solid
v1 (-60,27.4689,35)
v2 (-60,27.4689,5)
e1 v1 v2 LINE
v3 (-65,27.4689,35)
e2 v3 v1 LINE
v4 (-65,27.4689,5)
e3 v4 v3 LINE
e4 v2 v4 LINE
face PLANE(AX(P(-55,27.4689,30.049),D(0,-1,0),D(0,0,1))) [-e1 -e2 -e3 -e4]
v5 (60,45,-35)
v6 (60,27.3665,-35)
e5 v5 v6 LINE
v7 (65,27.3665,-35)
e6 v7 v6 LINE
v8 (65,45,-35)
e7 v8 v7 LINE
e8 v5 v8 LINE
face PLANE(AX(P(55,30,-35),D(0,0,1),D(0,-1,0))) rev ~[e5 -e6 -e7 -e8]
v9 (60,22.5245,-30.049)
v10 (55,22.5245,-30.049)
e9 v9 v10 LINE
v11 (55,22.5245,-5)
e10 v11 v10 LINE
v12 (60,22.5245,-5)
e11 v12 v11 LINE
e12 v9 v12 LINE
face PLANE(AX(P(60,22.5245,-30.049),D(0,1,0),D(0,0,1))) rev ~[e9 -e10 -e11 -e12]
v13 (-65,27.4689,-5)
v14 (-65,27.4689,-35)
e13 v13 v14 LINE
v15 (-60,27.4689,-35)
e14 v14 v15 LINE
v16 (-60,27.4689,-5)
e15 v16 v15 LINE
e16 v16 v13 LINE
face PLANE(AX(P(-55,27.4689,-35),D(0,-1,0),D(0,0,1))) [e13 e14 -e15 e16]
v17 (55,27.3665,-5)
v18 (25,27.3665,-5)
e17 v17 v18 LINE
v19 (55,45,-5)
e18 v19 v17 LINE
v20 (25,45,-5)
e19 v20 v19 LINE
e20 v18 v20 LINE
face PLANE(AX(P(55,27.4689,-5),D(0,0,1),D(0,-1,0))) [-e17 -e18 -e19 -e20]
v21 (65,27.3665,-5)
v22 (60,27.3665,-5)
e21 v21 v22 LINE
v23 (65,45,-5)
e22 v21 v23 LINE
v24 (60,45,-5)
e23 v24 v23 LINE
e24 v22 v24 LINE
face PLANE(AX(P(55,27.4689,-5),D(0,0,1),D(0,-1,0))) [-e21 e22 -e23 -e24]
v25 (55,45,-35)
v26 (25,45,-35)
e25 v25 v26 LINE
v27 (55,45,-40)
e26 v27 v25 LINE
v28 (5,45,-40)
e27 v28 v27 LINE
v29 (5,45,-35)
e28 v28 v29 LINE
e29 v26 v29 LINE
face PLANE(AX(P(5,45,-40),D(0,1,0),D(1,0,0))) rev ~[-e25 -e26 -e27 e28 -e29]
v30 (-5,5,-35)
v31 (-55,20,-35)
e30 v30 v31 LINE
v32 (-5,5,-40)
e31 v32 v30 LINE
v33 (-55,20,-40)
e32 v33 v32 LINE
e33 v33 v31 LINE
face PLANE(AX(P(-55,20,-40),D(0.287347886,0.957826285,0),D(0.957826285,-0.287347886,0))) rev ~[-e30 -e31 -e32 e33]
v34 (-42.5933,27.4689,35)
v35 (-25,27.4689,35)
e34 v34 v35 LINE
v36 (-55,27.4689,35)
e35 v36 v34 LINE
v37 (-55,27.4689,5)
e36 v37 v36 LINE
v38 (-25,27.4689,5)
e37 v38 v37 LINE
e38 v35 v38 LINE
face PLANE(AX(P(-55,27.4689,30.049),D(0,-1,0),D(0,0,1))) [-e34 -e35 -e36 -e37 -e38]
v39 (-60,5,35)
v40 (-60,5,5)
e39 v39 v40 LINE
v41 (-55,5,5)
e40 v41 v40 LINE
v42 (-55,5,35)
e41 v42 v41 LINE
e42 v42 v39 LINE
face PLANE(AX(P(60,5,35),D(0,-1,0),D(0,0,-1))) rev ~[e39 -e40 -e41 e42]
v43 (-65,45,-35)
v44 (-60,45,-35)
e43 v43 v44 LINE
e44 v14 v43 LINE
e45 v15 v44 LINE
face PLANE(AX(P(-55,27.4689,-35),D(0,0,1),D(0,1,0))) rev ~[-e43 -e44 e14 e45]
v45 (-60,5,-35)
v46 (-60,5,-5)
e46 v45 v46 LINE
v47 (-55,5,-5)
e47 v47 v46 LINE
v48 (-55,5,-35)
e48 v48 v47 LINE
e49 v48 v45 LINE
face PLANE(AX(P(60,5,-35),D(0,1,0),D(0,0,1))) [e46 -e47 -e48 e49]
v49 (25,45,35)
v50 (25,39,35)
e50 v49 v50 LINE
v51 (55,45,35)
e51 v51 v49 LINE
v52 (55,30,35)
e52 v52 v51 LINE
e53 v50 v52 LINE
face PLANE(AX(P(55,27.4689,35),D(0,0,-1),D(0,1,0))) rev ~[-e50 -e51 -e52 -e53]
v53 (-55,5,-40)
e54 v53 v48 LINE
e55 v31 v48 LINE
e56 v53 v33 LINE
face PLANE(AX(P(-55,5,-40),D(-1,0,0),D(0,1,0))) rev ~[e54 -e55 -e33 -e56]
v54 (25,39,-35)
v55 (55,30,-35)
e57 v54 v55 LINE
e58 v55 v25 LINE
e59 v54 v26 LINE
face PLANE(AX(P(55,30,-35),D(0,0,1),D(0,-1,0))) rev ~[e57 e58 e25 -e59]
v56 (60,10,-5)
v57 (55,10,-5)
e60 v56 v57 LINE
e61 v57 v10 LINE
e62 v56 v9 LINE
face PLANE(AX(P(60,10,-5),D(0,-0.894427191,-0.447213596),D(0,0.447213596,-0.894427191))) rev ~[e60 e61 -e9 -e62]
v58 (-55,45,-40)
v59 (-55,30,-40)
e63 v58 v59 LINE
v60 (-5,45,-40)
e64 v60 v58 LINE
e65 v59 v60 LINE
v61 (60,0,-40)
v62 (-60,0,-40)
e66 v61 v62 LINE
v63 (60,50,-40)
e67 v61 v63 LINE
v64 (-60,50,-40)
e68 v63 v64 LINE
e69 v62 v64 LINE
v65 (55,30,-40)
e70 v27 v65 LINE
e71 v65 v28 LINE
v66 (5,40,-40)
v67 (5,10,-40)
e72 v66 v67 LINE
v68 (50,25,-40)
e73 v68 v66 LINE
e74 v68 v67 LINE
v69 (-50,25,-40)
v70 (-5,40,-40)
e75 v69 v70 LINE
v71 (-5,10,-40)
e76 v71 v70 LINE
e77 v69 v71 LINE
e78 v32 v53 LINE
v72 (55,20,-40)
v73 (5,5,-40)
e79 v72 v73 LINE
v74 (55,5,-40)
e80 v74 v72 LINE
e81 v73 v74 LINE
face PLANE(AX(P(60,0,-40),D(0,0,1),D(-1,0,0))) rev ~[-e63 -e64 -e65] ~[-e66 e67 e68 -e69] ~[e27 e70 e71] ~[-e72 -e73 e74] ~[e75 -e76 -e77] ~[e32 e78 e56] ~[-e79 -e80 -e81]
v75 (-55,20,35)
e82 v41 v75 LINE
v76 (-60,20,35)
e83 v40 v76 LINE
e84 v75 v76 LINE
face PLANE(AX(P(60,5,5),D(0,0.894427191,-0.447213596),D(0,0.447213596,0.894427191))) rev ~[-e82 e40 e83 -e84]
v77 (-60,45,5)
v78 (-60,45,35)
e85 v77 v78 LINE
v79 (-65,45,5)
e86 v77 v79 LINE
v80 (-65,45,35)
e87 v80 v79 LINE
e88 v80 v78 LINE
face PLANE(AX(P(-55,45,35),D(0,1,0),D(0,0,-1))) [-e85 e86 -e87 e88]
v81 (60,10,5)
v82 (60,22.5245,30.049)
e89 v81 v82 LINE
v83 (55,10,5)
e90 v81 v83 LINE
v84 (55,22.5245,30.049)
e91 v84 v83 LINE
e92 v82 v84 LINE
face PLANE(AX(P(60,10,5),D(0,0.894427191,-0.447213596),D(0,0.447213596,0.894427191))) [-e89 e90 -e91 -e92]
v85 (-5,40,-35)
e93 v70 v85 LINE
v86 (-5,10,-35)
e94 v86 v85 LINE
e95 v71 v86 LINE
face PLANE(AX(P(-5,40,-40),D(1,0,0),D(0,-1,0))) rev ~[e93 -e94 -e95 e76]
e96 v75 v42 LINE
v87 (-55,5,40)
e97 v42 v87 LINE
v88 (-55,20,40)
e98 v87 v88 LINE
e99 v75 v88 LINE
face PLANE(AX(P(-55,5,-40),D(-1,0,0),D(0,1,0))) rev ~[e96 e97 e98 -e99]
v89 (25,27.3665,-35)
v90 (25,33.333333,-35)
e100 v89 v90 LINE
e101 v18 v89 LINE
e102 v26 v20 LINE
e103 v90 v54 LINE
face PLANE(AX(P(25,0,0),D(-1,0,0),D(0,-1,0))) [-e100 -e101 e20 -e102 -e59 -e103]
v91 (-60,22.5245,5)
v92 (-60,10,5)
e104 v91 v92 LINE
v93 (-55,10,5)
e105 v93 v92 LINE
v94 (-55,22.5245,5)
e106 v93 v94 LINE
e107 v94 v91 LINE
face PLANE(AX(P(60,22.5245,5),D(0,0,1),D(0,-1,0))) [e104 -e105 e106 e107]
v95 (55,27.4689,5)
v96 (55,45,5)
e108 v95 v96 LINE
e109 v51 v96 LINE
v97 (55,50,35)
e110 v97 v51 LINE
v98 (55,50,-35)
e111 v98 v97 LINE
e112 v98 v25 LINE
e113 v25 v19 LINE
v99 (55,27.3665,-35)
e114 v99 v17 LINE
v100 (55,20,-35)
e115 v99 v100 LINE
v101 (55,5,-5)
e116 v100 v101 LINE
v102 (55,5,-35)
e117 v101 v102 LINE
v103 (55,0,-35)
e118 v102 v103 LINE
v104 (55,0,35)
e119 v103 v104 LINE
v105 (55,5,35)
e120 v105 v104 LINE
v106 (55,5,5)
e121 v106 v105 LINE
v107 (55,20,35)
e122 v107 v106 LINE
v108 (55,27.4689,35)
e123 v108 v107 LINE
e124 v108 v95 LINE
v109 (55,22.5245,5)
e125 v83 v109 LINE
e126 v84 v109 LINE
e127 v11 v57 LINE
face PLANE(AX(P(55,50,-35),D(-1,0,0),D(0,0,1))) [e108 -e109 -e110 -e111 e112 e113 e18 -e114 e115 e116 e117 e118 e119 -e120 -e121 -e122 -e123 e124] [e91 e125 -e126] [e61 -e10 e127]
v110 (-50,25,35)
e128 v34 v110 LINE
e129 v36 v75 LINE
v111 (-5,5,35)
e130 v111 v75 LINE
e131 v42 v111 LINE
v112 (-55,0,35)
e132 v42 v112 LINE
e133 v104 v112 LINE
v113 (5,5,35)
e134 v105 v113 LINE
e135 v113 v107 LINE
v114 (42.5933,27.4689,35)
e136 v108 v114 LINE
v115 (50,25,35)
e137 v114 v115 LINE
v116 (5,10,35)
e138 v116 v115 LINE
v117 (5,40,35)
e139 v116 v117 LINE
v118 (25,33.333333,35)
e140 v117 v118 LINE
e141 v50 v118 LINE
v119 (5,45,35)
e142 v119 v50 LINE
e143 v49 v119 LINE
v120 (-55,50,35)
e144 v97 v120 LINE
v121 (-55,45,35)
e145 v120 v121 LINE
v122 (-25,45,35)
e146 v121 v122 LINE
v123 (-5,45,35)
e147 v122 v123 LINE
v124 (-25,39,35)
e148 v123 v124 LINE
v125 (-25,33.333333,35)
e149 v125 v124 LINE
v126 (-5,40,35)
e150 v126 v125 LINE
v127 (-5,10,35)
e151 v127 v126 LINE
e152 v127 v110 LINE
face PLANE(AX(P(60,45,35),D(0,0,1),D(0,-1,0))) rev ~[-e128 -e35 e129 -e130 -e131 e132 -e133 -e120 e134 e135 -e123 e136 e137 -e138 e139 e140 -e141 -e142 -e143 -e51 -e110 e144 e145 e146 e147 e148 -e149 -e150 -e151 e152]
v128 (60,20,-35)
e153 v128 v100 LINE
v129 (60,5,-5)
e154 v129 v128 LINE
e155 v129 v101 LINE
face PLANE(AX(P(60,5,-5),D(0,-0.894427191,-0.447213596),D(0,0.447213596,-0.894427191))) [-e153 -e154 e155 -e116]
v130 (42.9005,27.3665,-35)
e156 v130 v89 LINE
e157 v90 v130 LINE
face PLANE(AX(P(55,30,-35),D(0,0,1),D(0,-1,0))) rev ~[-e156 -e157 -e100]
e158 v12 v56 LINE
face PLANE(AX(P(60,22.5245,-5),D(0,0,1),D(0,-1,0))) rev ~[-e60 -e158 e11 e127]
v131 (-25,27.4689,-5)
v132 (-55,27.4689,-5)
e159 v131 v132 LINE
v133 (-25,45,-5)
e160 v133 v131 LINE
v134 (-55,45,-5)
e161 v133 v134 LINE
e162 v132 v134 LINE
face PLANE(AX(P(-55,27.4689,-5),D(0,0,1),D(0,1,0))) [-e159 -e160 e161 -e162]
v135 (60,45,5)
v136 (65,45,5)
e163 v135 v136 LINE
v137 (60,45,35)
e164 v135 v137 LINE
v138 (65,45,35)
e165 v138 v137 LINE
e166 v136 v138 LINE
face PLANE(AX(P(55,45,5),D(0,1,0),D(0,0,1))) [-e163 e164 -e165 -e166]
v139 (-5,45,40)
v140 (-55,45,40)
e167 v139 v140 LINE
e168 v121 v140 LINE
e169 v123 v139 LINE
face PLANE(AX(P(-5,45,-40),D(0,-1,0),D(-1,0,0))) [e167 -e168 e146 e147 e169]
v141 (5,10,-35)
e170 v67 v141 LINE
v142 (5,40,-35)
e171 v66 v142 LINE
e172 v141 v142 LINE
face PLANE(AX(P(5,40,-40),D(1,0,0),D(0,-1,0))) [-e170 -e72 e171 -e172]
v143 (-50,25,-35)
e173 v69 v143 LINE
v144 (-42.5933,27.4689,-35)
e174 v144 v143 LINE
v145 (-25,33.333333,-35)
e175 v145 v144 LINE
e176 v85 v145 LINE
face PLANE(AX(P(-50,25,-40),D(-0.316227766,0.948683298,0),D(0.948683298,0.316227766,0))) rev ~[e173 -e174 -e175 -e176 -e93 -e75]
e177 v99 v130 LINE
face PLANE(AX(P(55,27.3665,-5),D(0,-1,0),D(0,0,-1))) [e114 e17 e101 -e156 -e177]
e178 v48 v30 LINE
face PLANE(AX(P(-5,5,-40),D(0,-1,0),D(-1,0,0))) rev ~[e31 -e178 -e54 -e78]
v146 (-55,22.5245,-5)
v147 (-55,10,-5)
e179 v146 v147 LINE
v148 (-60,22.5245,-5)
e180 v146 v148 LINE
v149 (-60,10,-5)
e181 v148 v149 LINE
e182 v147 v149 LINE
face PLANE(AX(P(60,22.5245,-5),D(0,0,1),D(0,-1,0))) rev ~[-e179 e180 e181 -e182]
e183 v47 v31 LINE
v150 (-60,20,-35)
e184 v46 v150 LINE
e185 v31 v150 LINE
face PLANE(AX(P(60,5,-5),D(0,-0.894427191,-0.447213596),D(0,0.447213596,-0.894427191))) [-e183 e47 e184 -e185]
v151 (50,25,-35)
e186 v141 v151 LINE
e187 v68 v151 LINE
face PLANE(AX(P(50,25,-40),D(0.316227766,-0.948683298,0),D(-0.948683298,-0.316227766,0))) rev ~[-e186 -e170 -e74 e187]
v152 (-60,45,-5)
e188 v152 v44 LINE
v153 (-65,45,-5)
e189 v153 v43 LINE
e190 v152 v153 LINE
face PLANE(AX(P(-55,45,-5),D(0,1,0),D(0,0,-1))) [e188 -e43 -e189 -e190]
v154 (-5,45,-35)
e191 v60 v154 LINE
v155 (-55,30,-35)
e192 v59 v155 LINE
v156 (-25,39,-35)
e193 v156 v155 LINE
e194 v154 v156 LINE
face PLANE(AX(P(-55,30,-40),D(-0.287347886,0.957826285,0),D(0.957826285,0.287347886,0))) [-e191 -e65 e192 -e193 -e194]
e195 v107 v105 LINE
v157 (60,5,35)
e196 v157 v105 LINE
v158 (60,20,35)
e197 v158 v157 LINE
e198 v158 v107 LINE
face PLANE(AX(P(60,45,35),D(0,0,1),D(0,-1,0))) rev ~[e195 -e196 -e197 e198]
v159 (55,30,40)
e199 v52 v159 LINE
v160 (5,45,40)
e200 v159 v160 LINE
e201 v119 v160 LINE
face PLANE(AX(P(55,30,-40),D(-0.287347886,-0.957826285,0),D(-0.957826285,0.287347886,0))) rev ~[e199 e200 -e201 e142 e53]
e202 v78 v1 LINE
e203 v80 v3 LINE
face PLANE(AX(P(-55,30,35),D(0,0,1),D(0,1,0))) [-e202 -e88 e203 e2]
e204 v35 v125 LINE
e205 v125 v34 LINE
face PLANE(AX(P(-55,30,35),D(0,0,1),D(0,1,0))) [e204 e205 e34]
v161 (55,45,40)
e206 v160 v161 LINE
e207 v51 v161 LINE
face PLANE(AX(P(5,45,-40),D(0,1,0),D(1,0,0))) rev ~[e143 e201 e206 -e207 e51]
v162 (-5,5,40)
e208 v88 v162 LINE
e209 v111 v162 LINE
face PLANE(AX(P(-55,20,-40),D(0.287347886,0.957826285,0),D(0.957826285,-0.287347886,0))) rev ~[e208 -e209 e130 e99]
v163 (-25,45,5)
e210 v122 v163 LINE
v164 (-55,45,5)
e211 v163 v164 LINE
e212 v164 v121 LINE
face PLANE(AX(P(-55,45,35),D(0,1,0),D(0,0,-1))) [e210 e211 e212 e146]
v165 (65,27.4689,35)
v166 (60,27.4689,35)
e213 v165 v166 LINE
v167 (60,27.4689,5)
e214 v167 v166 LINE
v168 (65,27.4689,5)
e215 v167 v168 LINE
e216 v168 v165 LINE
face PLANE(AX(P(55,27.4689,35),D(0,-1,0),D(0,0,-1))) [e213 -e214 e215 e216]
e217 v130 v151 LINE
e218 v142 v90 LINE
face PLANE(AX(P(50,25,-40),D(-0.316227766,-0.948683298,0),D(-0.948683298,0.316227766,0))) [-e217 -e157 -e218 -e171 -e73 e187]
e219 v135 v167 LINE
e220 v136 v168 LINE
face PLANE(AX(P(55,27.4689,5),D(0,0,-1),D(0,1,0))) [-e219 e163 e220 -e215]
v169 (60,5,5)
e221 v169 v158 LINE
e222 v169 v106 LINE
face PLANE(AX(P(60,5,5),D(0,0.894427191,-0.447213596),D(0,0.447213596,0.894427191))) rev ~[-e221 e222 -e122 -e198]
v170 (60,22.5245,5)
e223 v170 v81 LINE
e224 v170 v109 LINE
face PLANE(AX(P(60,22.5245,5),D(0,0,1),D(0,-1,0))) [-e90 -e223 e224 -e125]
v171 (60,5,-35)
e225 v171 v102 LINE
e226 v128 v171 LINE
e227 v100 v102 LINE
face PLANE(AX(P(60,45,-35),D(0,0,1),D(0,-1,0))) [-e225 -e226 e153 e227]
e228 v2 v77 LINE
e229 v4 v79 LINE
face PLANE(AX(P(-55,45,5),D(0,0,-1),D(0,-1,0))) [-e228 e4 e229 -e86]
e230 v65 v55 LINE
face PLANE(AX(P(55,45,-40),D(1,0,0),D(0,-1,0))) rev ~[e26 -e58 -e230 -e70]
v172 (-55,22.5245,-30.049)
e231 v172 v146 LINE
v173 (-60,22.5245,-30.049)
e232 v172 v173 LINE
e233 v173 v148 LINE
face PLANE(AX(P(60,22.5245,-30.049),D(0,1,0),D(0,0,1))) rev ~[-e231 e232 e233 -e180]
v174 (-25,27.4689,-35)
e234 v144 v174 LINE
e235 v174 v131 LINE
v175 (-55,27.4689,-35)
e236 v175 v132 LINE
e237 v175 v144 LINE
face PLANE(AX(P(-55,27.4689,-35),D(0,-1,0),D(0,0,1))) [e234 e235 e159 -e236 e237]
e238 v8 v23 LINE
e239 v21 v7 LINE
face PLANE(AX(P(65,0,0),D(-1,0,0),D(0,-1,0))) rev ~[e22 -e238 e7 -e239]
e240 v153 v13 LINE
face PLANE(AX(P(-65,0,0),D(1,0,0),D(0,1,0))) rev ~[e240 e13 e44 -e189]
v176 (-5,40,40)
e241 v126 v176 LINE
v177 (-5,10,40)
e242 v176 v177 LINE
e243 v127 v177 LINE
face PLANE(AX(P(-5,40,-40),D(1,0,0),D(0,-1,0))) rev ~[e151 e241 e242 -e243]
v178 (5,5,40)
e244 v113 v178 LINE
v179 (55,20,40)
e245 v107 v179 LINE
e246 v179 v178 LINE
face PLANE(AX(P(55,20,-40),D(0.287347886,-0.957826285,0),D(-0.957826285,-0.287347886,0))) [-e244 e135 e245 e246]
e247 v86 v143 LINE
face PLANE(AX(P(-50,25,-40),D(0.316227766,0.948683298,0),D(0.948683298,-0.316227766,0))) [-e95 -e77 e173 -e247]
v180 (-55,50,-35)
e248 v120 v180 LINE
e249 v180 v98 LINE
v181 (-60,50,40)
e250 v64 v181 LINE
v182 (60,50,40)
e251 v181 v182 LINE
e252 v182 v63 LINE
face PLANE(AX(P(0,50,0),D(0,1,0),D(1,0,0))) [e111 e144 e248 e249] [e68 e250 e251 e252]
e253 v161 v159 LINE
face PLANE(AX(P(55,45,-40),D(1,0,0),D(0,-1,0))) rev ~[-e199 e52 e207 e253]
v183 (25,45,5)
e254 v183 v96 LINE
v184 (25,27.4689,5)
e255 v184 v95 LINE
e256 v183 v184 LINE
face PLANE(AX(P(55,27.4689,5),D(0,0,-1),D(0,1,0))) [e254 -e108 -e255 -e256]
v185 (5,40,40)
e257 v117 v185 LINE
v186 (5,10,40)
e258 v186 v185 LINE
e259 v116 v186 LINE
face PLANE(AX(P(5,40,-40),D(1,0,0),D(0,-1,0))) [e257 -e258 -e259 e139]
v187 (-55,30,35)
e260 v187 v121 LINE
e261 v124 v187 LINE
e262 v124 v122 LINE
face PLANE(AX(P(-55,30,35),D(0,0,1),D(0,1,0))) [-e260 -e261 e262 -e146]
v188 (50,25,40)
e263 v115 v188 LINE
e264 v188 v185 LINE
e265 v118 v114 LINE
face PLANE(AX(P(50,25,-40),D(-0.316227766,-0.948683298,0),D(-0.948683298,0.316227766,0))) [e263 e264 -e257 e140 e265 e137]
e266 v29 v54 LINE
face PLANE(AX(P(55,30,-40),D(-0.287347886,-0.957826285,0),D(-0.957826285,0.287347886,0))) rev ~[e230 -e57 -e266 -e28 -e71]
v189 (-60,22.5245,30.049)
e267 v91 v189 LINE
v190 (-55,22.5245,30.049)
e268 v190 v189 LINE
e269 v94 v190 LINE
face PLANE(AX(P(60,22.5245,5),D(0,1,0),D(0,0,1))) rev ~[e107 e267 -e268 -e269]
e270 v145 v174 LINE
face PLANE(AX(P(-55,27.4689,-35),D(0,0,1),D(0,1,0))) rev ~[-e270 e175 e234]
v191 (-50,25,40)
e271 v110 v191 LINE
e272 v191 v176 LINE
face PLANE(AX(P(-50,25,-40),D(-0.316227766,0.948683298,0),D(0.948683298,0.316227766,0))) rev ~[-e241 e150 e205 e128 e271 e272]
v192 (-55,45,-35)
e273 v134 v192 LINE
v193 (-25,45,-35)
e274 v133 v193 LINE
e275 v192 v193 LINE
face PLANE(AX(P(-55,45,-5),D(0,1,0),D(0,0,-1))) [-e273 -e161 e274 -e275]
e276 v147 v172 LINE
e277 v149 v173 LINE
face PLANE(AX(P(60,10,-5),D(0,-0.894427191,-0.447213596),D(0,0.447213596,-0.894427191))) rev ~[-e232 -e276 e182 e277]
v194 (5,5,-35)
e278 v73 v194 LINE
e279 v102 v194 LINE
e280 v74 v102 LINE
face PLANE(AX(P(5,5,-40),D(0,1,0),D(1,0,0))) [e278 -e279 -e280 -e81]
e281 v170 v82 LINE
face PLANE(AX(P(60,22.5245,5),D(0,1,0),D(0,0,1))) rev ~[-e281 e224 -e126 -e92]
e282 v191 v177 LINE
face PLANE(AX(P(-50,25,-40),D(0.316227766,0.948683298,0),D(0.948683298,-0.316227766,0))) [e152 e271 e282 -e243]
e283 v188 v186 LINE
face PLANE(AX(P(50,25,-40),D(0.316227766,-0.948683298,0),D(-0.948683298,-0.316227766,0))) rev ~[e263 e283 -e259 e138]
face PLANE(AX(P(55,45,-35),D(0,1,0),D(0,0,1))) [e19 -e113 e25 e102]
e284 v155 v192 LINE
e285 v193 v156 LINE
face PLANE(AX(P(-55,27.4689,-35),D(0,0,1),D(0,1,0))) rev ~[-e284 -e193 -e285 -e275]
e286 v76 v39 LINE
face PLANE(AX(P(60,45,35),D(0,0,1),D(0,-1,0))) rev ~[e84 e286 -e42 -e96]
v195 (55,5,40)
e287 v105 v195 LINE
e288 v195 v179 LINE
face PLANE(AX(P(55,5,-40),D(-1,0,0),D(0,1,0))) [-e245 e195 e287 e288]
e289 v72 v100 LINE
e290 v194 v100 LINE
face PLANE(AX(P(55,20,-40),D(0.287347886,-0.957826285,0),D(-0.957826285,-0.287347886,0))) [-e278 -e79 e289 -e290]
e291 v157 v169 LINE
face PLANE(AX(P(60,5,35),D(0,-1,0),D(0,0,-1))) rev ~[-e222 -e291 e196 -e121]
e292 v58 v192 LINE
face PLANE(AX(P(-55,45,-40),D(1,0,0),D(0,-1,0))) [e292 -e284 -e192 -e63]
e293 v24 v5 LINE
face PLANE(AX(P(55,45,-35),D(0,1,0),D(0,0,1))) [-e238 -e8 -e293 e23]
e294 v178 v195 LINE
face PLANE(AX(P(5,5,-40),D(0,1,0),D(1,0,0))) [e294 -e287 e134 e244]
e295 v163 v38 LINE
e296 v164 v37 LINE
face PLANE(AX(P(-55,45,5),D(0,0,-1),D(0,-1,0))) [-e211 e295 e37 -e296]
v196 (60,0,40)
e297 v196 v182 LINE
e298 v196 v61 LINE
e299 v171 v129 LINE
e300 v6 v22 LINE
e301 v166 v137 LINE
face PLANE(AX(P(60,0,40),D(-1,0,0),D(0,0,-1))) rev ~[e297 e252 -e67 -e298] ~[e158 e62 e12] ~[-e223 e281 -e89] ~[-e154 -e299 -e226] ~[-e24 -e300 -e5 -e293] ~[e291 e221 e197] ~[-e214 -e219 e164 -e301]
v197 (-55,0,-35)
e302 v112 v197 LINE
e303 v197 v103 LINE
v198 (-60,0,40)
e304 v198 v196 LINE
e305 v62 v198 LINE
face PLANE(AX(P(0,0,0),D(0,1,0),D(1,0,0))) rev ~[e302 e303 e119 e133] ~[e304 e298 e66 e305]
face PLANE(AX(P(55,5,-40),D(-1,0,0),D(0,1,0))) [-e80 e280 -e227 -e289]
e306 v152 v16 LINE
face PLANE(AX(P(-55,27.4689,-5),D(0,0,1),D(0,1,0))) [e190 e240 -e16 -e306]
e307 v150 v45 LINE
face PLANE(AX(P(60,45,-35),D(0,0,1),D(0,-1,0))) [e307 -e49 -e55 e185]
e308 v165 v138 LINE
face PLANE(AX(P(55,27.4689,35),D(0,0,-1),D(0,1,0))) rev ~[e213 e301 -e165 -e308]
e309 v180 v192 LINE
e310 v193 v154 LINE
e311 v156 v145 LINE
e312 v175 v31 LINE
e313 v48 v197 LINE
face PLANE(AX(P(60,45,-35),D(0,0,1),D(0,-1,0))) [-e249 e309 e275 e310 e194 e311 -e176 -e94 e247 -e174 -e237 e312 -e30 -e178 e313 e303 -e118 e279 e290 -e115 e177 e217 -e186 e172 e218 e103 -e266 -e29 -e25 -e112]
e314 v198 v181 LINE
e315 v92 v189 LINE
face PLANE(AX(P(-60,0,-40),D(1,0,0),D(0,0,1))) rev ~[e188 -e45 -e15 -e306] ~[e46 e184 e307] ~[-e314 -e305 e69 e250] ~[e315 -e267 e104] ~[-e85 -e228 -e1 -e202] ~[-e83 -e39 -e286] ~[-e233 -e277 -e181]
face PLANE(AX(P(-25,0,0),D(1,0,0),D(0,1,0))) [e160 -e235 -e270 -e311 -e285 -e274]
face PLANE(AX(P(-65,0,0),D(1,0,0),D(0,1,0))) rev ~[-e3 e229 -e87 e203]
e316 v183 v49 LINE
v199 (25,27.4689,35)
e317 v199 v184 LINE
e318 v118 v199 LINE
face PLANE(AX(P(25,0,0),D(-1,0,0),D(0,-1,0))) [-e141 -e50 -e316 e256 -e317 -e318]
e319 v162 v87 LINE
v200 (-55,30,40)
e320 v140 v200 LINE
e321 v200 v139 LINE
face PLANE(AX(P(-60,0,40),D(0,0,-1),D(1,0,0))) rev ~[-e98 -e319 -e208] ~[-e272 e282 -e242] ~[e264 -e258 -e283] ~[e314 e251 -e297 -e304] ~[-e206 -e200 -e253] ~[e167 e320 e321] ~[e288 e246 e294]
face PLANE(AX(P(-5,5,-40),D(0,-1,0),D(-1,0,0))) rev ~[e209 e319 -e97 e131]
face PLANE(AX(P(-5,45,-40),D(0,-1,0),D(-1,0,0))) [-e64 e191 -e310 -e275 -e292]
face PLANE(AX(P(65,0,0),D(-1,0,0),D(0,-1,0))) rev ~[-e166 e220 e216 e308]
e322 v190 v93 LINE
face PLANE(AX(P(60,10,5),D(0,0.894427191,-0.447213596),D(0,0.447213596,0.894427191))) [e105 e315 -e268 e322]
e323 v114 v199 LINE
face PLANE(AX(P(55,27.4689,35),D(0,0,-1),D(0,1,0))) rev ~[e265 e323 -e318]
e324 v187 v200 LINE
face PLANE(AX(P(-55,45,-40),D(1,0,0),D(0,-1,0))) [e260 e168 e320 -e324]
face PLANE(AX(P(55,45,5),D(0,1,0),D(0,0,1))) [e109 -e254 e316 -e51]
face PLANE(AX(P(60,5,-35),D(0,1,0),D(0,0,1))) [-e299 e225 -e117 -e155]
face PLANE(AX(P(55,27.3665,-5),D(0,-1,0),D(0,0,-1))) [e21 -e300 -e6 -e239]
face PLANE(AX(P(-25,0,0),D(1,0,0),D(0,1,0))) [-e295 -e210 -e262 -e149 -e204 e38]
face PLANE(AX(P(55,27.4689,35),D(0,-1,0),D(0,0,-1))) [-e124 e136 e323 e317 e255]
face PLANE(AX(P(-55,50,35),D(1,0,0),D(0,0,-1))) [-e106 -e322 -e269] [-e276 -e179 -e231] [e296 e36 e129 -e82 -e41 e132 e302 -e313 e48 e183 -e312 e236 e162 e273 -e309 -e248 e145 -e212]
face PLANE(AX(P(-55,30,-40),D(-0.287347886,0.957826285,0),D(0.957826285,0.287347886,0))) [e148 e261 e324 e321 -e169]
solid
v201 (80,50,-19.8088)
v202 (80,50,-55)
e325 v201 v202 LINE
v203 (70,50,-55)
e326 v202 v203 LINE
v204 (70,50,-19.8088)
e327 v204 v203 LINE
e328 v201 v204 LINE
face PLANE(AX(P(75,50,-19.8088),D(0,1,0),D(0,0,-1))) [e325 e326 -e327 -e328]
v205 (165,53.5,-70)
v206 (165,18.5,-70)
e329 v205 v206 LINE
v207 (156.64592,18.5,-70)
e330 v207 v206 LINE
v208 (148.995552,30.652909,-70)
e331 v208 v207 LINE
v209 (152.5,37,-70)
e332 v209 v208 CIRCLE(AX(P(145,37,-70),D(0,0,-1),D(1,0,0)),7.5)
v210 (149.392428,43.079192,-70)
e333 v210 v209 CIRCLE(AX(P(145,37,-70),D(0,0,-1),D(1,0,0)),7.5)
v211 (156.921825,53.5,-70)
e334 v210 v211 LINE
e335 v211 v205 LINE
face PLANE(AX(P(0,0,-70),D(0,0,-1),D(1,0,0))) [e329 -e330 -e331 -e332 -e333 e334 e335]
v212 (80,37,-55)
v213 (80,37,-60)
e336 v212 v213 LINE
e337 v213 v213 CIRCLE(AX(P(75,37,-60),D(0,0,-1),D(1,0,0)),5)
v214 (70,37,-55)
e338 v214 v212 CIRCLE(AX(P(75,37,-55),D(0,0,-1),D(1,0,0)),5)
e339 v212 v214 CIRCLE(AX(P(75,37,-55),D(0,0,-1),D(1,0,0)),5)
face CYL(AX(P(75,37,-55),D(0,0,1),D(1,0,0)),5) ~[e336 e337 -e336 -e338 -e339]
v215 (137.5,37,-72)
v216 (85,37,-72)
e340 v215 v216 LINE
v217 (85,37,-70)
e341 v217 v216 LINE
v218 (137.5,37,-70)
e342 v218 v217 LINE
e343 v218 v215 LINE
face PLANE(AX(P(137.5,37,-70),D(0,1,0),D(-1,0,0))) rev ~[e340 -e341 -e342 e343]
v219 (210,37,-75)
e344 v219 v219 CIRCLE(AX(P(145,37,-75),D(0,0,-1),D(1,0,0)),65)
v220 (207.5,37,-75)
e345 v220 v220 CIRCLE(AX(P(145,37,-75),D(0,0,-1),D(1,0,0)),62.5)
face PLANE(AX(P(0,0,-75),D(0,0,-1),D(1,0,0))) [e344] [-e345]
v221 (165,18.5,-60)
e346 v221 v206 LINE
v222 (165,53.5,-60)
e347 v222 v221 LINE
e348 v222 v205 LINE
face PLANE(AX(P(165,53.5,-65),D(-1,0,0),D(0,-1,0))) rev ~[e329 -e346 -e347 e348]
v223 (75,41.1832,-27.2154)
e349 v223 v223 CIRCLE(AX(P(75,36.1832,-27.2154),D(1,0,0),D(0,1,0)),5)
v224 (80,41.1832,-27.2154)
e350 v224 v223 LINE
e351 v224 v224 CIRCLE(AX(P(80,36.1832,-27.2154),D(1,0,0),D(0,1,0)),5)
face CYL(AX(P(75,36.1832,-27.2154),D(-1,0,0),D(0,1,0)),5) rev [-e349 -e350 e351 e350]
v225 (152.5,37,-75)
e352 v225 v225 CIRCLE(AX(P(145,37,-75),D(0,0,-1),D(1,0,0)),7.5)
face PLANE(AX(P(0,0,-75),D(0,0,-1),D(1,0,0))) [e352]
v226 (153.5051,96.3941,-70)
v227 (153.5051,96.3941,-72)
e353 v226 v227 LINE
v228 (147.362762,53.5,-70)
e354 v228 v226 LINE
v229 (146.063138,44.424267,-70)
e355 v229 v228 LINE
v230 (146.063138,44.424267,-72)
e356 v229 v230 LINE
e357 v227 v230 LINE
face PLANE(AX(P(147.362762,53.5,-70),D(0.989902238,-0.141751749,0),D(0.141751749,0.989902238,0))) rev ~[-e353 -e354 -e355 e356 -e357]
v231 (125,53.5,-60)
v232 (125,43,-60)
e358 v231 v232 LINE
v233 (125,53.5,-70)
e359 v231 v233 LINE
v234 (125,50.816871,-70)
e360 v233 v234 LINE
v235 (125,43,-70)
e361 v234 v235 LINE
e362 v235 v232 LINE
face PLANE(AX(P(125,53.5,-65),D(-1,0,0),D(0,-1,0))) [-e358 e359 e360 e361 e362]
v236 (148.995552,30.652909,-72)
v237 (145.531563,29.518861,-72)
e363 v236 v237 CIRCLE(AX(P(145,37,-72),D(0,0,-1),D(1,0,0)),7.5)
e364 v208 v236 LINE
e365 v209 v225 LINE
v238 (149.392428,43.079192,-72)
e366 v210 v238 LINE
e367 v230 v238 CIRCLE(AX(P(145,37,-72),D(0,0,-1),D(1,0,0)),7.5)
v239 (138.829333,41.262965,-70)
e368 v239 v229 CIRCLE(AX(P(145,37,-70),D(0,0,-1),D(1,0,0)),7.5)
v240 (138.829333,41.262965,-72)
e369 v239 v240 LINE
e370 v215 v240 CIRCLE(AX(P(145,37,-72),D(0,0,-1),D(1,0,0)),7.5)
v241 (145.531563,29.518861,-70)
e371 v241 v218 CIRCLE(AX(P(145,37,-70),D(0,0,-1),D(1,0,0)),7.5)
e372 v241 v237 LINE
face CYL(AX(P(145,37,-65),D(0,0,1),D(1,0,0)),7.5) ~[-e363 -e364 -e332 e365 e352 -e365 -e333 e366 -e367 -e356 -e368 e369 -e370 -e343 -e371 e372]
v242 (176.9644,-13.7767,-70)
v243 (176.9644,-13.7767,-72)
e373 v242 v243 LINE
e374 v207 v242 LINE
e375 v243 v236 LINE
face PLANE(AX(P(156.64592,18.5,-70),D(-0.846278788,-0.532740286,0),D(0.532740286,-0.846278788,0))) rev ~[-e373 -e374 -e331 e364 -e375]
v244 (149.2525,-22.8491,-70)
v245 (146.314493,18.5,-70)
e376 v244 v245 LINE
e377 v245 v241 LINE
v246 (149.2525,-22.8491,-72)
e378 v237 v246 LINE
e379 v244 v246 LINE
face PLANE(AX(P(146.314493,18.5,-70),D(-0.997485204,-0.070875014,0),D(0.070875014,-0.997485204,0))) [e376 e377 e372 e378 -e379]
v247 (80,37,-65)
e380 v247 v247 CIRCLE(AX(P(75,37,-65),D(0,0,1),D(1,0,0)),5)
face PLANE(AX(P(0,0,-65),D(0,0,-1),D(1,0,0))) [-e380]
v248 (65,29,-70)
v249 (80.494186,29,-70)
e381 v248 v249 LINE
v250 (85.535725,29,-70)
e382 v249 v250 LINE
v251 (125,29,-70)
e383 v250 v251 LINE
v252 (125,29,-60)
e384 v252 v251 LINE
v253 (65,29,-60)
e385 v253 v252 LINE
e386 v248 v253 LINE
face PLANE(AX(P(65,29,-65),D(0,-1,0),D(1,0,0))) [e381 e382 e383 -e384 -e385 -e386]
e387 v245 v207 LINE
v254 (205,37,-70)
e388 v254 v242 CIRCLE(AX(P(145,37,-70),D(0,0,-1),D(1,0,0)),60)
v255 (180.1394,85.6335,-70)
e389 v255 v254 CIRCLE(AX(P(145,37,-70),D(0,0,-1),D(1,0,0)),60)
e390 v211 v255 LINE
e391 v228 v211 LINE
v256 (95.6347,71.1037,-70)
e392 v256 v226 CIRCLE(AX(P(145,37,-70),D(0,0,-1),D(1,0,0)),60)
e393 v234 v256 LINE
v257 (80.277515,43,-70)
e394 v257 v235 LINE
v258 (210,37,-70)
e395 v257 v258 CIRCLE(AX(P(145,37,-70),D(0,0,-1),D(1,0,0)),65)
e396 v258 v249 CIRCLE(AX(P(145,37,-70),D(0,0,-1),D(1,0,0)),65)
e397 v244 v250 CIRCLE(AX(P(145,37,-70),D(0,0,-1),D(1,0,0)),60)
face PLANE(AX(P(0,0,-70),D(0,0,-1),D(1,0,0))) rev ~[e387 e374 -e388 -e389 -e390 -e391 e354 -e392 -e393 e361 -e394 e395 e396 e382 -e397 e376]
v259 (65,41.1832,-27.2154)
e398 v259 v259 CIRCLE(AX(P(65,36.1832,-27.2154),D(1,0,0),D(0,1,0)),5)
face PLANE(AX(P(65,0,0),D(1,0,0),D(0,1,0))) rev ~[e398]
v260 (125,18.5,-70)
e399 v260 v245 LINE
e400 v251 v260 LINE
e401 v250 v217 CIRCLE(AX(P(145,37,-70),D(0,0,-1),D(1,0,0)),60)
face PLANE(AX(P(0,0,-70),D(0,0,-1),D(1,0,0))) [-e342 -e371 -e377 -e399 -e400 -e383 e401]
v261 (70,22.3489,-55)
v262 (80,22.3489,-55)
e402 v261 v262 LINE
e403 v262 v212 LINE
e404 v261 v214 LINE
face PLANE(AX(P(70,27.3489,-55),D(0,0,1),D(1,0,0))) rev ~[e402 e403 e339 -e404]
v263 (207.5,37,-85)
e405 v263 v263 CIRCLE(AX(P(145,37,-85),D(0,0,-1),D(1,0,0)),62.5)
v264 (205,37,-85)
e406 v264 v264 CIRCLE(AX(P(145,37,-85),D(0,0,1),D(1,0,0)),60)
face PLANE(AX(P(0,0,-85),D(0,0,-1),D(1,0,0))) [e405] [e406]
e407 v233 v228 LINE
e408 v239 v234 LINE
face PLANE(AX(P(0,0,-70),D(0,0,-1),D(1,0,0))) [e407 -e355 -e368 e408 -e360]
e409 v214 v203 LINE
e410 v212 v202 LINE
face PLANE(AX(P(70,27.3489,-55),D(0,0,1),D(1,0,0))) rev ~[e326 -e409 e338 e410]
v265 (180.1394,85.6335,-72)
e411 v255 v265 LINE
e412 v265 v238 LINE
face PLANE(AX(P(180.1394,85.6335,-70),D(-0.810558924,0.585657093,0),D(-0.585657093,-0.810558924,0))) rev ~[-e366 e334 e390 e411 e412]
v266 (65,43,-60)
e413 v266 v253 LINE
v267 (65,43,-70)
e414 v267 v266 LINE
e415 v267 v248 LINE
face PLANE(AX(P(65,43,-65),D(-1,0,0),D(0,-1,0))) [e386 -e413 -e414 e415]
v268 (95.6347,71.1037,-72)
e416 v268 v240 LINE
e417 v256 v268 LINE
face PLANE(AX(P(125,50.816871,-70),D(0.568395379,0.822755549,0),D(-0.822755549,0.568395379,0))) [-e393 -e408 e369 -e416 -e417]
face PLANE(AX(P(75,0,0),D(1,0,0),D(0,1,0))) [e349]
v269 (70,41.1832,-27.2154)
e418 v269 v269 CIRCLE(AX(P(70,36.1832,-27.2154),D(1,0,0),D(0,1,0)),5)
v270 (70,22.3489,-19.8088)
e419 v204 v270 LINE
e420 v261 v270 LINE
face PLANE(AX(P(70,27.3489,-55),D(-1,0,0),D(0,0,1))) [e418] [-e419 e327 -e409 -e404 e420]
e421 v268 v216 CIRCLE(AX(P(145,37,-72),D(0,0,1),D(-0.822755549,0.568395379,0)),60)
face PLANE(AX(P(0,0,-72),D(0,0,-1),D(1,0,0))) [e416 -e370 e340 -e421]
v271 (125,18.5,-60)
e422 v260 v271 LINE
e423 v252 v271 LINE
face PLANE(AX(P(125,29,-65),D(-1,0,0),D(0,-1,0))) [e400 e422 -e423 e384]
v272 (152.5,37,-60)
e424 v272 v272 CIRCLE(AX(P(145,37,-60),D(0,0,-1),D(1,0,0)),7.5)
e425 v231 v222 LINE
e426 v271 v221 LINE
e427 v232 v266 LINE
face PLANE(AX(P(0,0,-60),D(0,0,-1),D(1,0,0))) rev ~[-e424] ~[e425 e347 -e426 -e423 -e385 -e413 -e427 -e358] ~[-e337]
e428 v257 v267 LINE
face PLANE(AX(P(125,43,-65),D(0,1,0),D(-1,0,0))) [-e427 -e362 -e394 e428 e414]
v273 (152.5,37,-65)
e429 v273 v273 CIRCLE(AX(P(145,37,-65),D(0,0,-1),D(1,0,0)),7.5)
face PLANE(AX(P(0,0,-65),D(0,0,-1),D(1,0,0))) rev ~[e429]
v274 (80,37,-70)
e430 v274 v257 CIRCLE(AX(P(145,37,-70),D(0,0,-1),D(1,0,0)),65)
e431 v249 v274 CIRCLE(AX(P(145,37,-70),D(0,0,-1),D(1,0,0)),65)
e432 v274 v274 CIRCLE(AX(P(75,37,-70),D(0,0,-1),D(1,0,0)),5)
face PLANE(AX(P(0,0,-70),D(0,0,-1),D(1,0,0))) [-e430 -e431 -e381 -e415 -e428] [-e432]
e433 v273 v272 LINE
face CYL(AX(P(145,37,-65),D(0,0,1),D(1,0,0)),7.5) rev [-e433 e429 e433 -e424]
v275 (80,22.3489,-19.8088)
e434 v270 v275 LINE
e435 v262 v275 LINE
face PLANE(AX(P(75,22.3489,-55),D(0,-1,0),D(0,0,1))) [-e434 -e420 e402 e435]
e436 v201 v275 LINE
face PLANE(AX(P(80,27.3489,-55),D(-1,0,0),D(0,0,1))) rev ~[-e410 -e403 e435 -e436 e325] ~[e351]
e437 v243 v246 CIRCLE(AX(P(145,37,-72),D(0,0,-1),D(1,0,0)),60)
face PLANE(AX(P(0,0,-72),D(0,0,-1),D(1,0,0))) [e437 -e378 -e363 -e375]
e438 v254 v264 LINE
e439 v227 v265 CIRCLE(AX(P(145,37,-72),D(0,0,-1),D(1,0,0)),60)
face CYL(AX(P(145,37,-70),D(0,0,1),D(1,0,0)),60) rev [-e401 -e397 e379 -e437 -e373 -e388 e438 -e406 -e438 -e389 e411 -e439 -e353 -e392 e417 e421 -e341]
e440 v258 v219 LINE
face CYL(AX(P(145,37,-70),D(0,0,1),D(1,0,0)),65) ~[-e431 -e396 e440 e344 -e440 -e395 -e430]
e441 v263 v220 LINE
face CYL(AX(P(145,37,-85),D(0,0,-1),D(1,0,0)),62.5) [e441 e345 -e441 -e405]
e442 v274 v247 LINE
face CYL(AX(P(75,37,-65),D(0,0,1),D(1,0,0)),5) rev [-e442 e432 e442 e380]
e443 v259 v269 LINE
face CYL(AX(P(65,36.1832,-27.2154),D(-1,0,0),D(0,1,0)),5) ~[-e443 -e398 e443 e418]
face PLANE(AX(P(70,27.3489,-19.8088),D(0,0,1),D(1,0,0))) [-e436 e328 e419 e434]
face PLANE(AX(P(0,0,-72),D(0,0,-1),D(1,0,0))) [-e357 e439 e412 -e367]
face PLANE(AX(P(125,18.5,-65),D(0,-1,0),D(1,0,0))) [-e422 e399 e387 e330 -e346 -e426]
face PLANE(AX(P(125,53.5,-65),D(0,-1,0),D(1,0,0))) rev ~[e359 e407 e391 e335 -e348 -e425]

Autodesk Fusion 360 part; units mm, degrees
sketch "Sketch1" plane through (0, 0, 0) normal (0, 1, 0) x (1, 0, 0)
  line L0 (-60, -40) -> (60, -40)
  line L1 (60, -40) -> (60, 40)
  line L2 (60, 40) -> (-60, 40)
  line L3 (-60, 40) -> (-60, -40)
  dimension "d1" = 120
  dimension "d2" = 80
  dimension "d3" = 40
  dimension "d4" = 60
extrude "Extrude1" add sketch "Sketch1" along normal blind 50 makes body 1
sketch "Sketch2" plane through (0, 50, 0) normal (0, 1, 0) x (-1, 0, 0)
  line L0 (60, -40) -> (60, 40)
  line L1 (60, 40) -> (-60, 40)
  line L2 (-60, 40) -> (-60, -40)
  line L3 (-60, -40) -> (60, -40)
  line L4 (-55, 35) -> (55, 35)
  line L5 (55, 35) -> (55, -35)
  line L6 (55, -35) -> (-55, -35)
  line L7 (-55, -35) -> (-55, 35)
extrude "Extrude2" cut sketch "Sketch2" against normal blind 50 contours L4 L5 L6 L7 bodies 1
sketch "Sketch3" plane through (60, 0, 0) normal (1, 0, 0) x (0, 1, 0)
  line L0 (0, 40) -> (0, -40)
  line L1 (0, -40) -> (50, -40)
  line L2 (50, -40) -> (50, 40)
  line L3 (50, 40) -> (0, 40)
  line L4 (45, -35) -> (30, -35)
  line L5 (30, -35) -> (45, -5)
  line L6 (45, -5) -> (45, -35)
  line L7 (20, -35) -> (5, -35)
  line L8 (5, -35) -> (5, -5)
  line L9 (5, -5) -> (20, -35)
  line L10 (10, -5) -> (22.5311, -30.0622)
  line L11 (22.5245, -5) -> (10, -5)
  line L12 (40, -5) -> (27.4689, -5)
  line L13 (27.4689, -30.0622) -> (40, -5)
  line L14 (45, 5) -> (45, 35)
  line L15 (45, 35) -> (30, 35)
  line L16 (45, 5) -> (45, 35)
  line L17 (45, 35) -> (30, 35)
  line L18 (30, 35) -> (45, 5)
  line L19 (40, 5) -> (27.4689, 5)
  line L20 (22.5245, 5) -> (10, 5)
  line L21 (10, 5) -> (22.5245, 30.049)
  line L22 (5, 5) -> (20, 35)
  line L23 (20, 35) -> (5, 35)
  line L24 (5, 35) -> (5, 5)
  line L25 (22.5311, -30.0622) -> (22.5245, -30.0622)
  line L26 (27.4689, 30.049) -> (27.4689, 5)
  line L27 (27.4689, -5) -> (27.4689, -30.0622)
  line L28 (22.5245, -30.0622) -> (22.5245, -5)
  line L29 (22.5245, 5) -> (22.5245, 30.049)
  line L30 (40, 5) -> (27.4689, 30.049)
extrude "Extrude3" cut sketch "Sketch3" against normal blind 120 contours L4 L5 L6 | L7 L8 L9 | L10 L11 L28 | L12 L13 L27 | L14 L15 L16 L17 L18 | L19 L26 L30 | L20 L21 L29 | L22 L23 L24 bodies 1
sketch "Sketch4" plane through (0, 0, -40) normal (0, 0, -1) x (1, 0, 0)
  line L0 (60, 0) -> (-60, 0)
  line L1 (-60, 0) -> (-60, -50)
  line L2 (-60, -50) -> (60, -50)
  line L3 (60, -50) -> (60, 0)
  line L4 (0, 25) -> (0, -70)
  line L5 (-75, -25) -> (70, -25)
  line L6 (-55, -5) -> (-55, -20)
  line L7 (-55, -20) -> (-5, -5)
  line L8 (-5, -5) -> (-55, -5)
  line L9 (-50, -25) -> (-5, -10)
  line L10 (-5, -10) -> (-5, -25)
  line L11 (5, -5) -> (55, -5)
  line L12 (55, -5) -> (55, -20)
  line L13 (55, -20) -> (5, -5)
  line L14 (50, -25) -> (5, -10)
  line L15 (5, -10) -> (5, -25)
  line L16 (-55, -45) -> (-55, -30)
  line L17 (5, -45) -> (55, -45)
  line L18 (55, -30) -> (5, -45)
  line L19 (-55, -30) -> (-5, -45)
  line L20 (-5, -45) -> (-55, -45)
  line L21 (55, -45) -> (55, -30)
  line L22 (-50, -25) -> (-5, -40)
  line L23 (-5, -40) -> (-5, -25)
  line L24 (5, -40) -> (5, -25)
  line L25 (50, -25) -> (5, -40)
  point P0 (60, -50)
  point P1 (0, -50)
extrude "Extrude4" cut sketch "Sketch4" against normal blind 80 contours L5 L24 L25 | L5 L14 L15 | L5 L22 L23 | L5 L9 L10 | L6 L7 L8 | L11 L12 L13 | L16 L19 L20 | L17 L18 L21 bodies 1
sketch "Sketch5" plane through (55, 0, 0) normal (-1, 0, 0) x (0, -1, 0)
  line L0 (-22.5245, 30.049) -> (-10, 5)
  line L1 (-10, 5) -> (-22.5245, 5)
  line L2 (-22.5245, 5) -> (-22.5245, 30.049)
  line L3 (-27.4689, 5) -> (-40, 5)
  line L4 (-40, 5) -> (-27.4689, 30.049)
  line L5 (-27.4689, 30.049) -> (-27.4689, 5)
  line L6 (-40, -5) -> (-27.4689, -5)
  line L7 (-27.4689, -5) -> (-27.4689, -30.0622)
  line L8 (-27.4689, -30.0622) -> (-40, -5)
  line L9 (-10, -5) -> (-22.5245, -30.049)
  line L10 (-22.5245, -30.049) -> (-22.5245, -5)
  line L11 (-22.5245, -5) -> (-10, -5)
  line L12 (-5, -5) -> (-5, -35)
  line L13 (-5, -35) -> (0, -35)
  line L14 (0, -35) -> (0, 35)
  line L15 (0, 35) -> (-5, 35)
  line L16 (-5, 35) -> (-5, 5)
  line L17 (-5, 5) -> (-20, 35)
  line L18 (-20, 35) -> (-30, 35)
  line L19 (-30, 35) -> (-45, 5)
  line L20 (-45, 5) -> (-45, 35)
  line L21 (-45, 35) -> (-50, 35)
  line L22 (-50, 35) -> (-50, -35)
  line L23 (-50, -35) -> (-45, -35)
  line L24 (-45, -35) -> (-45, -5)
  line L25 (-45, -5) -> (-30, -35)
  line L26 (-30, -35) -> (-20, -35)
  line L27 (-20, -35) -> (-5, -5)
  line L28 (-45, -5) -> (-27.3665, -5)
  line L29 (-27.3665, -5) -> (-27.3665, -35)
  line L30 (-27.3665, -35) -> (-45, -35)
  line L31 (-45, -35) -> (-45, -5)
  line L32 (-22.5245, -5) -> (-5, -5)
  line L33 (-5, -5) -> (-5, -35)
  line L34 (-5, -35) -> (-22.5245, -35)
  line L35 (-22.5245, -35) -> (-22.5245, -5)
  line L36 (-23.0946, 35) -> (-5, 35)
  line L37 (-5, 35) -> (-5, 5)
  line L38 (-5, 5) -> (-23.0946, 5)
  line L39 (-23.0946, 5) -> (-23.0946, 35)
  line L40 (-45, 35) -> (-27.4689, 35)
  line L41 (-27.4689, 35) -> (-27.4689, 5)
  line L42 (-27.4689, 5) -> (-45, 5)
  line L43 (-45, 5) -> (-45, 35)
extrude "Extrude5" add sketch "Sketch5" along normal blind 30 and the other way blind 10 contours L4 L18 L19 L40 L41 L42 | L19 L20 L40 L43 | L3 L4 L5 L41 L42 | L7 L8 L25 L26 L28 L29 L30 | L24 L25 L30 L31 | L6 L7 L8 L28 bodies 1
sketch "Sketch6" plane through (-55, 0, 0) normal (1, 0, 0) x (0, 1, 0)
  line L0 (10, -5) -> (22.5245, -5)
  line L1 (22.5245, -5) -> (22.5245, -30.049)
  line L2 (22.5245, -30.049) -> (10, -5)
  line L3 (20, -35) -> (30, -35)
  line L4 (30, -35) -> (45, -5)
  line L5 (45, -5) -> (45, -35)
  line L6 (45, -35) -> (50, -35)
  line L7 (50, -35) -> (50, 35)
  line L8 (50, 35) -> (45, 35)
  line L9 (45, 35) -> (45, 5)
  line L10 (45, 5) -> (30, 35)
  line L11 (30, 35) -> (20, 35)
  line L12 (20, 35) -> (5, 5)
  line L13 (5, 5) -> (5, 35)
  line L14 (5, 35) -> (0, 35)
  line L15 (0, 35) -> (0, -35)
  line L16 (0, -35) -> (5, -35)
  line L17 (5, -35) -> (5, -5)
  line L18 (5, -5) -> (20, -35)
  line L19 (27.4689, 30.049) -> (40, 5)
  line L20 (40, 5) -> (27.4689, 5)
  line L21 (27.4689, 5) -> (27.4689, 30.049)
  line L22 (40, -5) -> (27.4689, -30.0622)
  line L23 (27.4689, -30.0622) -> (27.4689, -5)
  line L24 (27.4689, -5) -> (40, -5)
  line L25 (22.5245, 5) -> (10, 5)
  line L26 (10, 5) -> (22.5245, 30.049)
  line L27 (22.5245, 30.049) -> (22.5245, 5)
  line L28 (27.4689, 35) -> (45, 35)
  line L29 (45, 35) -> (45, 5)
  line L30 (45, 5) -> (27.4689, 5)
  line L31 (27.4689, 5) -> (27.4689, 35)
  line L32 (27.4689, -5) -> (45, -5)
  line L33 (45, -5) -> (45, -35)
  line L34 (45, -35) -> (27.4689, -35)
  line L35 (27.4689, -35) -> (27.4689, -5)
extrude "Extrude6" add sketch "Sketch6" along normal blind 30 and the other way blind 10 contours L3 L4 L22 L32 L34 L35 | L4 L5 L33 L34 | L22 L23 L24 L32 L35 | L9 L10 L28 L29 | L10 L11 L19 L28 L30 L31 | L19 L20 L21 L30 L31 bodies 1
sketch "Sketch7" plane through (65, 0, 0) normal (1, 0, 0) x (0, 1, 0)
  line L0 (27.3665, -35) -> (45, -35)
  line L1 (45, -35) -> (45, -5)
  line L2 (45, -5) -> (27.3665, -5)
  line L3 (27.3665, -5) -> (27.3665, -35)
  circle A0 centre (36.1832, -27.2154) radius 5
  dimension "d21" = 10
extrude "Extrude7" add sketch "Sketch7" along normal blind 10 separate body contours A0 makes body 2
sketch "Sketch8" plane through (75, 0, 0) normal (1, 0, 0) x (0, 1, 0)
  circle A0 centre (36.1832, -27.2154) radius 5
  line L0 (27.3489, -19.8088) -> (45, -19.8088)
  line L1 (45, -19.8088) -> (45, -55)
  line L2 (45, -55) -> (27.3489, -55)
  line L3 (27.3489, -55) -> (27.3489, -19.8088)
extrude "Extrude8" add sketch "Sketch8" along normal blind 5 and the other way blind 5 bodies 2
extrude "Extrude9" add 1 faces at (73.3333, 45, -31.5392) along direction (0, 1, 0) blind 5 on bodies 2 bodies 2
extrude "Extrude10" add 1 faces at (76.6667, 27.3489, -31.5392) along direction (0, -1, 0) blind 5 on bodies 2 bodies 2
sketch "Sketch9" plane through (0, 0, -55) normal (0, 0, -1) x (1, 0, 0)
  line L0 (80, -50) -> (80, -22.3489)
  line L1 (80, -22.3489) -> (70, -22.3489)
  line L2 (70, -22.3489) -> (70, -50)
  line L3 (70, -50) -> (80, -50)
  circle A0 centre (75, -37) radius 5
extrude "Extrude11" add sketch "Sketch9" along normal blind 10 contours A0 bodies 2
sketch "Sketch10" plane through (0, 0, -65) normal (0, 0, -1) x (1, 0, 0)
  circle A0 centre (75, -37) radius 5
  line L0 (125, -53.5) -> (125, -18.5)
  line L1 (125, -43) -> (65, -43)
  line L2 (65, -43) -> (65, -29)
  line L3 (65, -29) -> (125, -29)
  line L4 (125, -29) -> (125, -43)
  circle A1 centre (145, -37) radius 7.5
  line L5 (125, -53.5) -> (165, -53.5)
  line L6 (125, -18.5) -> (165, -18.5)
  line L7 (165, -53.5) -> (165, -18.5)
  dimension "d34" = 15
  dimension "d35" = 60
  dimension "d36" = 10
  dimension "d37" = 40
  dimension "d38" = 40
  dimension "d39" = 35
  dimension "d40" = 10.5
  dimension "d41" = 29
  dimension "d42" = 43
  dimension "d43" = 20
extrude "Extrude12" add sketch "Sketch10" along normal blind 10 separate body contours A1 makes body 3
extrude "Extrude13" add sketch "Sketch10" along normal blind 5 and the other way blind 5 bodies 2 3
sketch "Sketch11" plane through (0, 0, -70) normal (0, 0, -1) x (1, 0, 0)
  circle A0 centre (75, -37) radius 5
  circle A1 centre (145, -37) radius 7.5
  line L0 (125, -53.5) -> (165, -53.5)
  line L1 (165, -53.5) -> (165, -18.5)
  line L2 (165, -18.5) -> (125, -18.5)
  line L3 (125, -18.5) -> (125, -29)
  line L4 (125, -29) -> (65, -29)
  line L5 (65, -29) -> (65, -43)
  line L6 (65, -43) -> (125, -43)
  line L7 (125, -43) -> (125, -53.5)
  circle A2 centre (145, -37) radius 65
  circle A3 centre (145, -37) radius 60
  line L8 (180.1394, -85.6335) -> (145, -37)
  line L9 (145, -37) -> (153.5051, -96.3941)
  line L10 (145, -37) -> (176.9644, 13.7767)
  line L11 (145, -37) -> (149.2525, 22.8491)
  line L12 (145, -37) -> (95.6347, -71.1037)
  line L13 (145, -37) -> (85, -37)
  dimension "d50" = 120
extrude "Extrude14" add sketch "Sketch11" along normal blind 2 contours A1 L6 L7 A3 L12 L13 | L6 L7 A3 L12 | L2 A3 L10 L11 | A1 L2 L10 L11 | L0 A3 L8 L9 | A1 L0 L8 L9 bodies 2
extrude "Extrude15" add sketch "Sketch11" along normal blind 15 contours L4 L6 A2 A3 | L4 L6 A2 A3 bodies 2
sketch "Sketch12" plane through (0, 0, -85) normal (0, 0, -1) x (1, 0, 0)
  circle A0 centre (145, -37) radius 60
  circle A1 centre (145, -37) radius 65
  circle A2 centre (145, -37) radius 62.5
  dimension "d55" = 125
extrude "Extrude16" cut sketch "Sketch12" against normal blind 10 contours A1 bodies 2
